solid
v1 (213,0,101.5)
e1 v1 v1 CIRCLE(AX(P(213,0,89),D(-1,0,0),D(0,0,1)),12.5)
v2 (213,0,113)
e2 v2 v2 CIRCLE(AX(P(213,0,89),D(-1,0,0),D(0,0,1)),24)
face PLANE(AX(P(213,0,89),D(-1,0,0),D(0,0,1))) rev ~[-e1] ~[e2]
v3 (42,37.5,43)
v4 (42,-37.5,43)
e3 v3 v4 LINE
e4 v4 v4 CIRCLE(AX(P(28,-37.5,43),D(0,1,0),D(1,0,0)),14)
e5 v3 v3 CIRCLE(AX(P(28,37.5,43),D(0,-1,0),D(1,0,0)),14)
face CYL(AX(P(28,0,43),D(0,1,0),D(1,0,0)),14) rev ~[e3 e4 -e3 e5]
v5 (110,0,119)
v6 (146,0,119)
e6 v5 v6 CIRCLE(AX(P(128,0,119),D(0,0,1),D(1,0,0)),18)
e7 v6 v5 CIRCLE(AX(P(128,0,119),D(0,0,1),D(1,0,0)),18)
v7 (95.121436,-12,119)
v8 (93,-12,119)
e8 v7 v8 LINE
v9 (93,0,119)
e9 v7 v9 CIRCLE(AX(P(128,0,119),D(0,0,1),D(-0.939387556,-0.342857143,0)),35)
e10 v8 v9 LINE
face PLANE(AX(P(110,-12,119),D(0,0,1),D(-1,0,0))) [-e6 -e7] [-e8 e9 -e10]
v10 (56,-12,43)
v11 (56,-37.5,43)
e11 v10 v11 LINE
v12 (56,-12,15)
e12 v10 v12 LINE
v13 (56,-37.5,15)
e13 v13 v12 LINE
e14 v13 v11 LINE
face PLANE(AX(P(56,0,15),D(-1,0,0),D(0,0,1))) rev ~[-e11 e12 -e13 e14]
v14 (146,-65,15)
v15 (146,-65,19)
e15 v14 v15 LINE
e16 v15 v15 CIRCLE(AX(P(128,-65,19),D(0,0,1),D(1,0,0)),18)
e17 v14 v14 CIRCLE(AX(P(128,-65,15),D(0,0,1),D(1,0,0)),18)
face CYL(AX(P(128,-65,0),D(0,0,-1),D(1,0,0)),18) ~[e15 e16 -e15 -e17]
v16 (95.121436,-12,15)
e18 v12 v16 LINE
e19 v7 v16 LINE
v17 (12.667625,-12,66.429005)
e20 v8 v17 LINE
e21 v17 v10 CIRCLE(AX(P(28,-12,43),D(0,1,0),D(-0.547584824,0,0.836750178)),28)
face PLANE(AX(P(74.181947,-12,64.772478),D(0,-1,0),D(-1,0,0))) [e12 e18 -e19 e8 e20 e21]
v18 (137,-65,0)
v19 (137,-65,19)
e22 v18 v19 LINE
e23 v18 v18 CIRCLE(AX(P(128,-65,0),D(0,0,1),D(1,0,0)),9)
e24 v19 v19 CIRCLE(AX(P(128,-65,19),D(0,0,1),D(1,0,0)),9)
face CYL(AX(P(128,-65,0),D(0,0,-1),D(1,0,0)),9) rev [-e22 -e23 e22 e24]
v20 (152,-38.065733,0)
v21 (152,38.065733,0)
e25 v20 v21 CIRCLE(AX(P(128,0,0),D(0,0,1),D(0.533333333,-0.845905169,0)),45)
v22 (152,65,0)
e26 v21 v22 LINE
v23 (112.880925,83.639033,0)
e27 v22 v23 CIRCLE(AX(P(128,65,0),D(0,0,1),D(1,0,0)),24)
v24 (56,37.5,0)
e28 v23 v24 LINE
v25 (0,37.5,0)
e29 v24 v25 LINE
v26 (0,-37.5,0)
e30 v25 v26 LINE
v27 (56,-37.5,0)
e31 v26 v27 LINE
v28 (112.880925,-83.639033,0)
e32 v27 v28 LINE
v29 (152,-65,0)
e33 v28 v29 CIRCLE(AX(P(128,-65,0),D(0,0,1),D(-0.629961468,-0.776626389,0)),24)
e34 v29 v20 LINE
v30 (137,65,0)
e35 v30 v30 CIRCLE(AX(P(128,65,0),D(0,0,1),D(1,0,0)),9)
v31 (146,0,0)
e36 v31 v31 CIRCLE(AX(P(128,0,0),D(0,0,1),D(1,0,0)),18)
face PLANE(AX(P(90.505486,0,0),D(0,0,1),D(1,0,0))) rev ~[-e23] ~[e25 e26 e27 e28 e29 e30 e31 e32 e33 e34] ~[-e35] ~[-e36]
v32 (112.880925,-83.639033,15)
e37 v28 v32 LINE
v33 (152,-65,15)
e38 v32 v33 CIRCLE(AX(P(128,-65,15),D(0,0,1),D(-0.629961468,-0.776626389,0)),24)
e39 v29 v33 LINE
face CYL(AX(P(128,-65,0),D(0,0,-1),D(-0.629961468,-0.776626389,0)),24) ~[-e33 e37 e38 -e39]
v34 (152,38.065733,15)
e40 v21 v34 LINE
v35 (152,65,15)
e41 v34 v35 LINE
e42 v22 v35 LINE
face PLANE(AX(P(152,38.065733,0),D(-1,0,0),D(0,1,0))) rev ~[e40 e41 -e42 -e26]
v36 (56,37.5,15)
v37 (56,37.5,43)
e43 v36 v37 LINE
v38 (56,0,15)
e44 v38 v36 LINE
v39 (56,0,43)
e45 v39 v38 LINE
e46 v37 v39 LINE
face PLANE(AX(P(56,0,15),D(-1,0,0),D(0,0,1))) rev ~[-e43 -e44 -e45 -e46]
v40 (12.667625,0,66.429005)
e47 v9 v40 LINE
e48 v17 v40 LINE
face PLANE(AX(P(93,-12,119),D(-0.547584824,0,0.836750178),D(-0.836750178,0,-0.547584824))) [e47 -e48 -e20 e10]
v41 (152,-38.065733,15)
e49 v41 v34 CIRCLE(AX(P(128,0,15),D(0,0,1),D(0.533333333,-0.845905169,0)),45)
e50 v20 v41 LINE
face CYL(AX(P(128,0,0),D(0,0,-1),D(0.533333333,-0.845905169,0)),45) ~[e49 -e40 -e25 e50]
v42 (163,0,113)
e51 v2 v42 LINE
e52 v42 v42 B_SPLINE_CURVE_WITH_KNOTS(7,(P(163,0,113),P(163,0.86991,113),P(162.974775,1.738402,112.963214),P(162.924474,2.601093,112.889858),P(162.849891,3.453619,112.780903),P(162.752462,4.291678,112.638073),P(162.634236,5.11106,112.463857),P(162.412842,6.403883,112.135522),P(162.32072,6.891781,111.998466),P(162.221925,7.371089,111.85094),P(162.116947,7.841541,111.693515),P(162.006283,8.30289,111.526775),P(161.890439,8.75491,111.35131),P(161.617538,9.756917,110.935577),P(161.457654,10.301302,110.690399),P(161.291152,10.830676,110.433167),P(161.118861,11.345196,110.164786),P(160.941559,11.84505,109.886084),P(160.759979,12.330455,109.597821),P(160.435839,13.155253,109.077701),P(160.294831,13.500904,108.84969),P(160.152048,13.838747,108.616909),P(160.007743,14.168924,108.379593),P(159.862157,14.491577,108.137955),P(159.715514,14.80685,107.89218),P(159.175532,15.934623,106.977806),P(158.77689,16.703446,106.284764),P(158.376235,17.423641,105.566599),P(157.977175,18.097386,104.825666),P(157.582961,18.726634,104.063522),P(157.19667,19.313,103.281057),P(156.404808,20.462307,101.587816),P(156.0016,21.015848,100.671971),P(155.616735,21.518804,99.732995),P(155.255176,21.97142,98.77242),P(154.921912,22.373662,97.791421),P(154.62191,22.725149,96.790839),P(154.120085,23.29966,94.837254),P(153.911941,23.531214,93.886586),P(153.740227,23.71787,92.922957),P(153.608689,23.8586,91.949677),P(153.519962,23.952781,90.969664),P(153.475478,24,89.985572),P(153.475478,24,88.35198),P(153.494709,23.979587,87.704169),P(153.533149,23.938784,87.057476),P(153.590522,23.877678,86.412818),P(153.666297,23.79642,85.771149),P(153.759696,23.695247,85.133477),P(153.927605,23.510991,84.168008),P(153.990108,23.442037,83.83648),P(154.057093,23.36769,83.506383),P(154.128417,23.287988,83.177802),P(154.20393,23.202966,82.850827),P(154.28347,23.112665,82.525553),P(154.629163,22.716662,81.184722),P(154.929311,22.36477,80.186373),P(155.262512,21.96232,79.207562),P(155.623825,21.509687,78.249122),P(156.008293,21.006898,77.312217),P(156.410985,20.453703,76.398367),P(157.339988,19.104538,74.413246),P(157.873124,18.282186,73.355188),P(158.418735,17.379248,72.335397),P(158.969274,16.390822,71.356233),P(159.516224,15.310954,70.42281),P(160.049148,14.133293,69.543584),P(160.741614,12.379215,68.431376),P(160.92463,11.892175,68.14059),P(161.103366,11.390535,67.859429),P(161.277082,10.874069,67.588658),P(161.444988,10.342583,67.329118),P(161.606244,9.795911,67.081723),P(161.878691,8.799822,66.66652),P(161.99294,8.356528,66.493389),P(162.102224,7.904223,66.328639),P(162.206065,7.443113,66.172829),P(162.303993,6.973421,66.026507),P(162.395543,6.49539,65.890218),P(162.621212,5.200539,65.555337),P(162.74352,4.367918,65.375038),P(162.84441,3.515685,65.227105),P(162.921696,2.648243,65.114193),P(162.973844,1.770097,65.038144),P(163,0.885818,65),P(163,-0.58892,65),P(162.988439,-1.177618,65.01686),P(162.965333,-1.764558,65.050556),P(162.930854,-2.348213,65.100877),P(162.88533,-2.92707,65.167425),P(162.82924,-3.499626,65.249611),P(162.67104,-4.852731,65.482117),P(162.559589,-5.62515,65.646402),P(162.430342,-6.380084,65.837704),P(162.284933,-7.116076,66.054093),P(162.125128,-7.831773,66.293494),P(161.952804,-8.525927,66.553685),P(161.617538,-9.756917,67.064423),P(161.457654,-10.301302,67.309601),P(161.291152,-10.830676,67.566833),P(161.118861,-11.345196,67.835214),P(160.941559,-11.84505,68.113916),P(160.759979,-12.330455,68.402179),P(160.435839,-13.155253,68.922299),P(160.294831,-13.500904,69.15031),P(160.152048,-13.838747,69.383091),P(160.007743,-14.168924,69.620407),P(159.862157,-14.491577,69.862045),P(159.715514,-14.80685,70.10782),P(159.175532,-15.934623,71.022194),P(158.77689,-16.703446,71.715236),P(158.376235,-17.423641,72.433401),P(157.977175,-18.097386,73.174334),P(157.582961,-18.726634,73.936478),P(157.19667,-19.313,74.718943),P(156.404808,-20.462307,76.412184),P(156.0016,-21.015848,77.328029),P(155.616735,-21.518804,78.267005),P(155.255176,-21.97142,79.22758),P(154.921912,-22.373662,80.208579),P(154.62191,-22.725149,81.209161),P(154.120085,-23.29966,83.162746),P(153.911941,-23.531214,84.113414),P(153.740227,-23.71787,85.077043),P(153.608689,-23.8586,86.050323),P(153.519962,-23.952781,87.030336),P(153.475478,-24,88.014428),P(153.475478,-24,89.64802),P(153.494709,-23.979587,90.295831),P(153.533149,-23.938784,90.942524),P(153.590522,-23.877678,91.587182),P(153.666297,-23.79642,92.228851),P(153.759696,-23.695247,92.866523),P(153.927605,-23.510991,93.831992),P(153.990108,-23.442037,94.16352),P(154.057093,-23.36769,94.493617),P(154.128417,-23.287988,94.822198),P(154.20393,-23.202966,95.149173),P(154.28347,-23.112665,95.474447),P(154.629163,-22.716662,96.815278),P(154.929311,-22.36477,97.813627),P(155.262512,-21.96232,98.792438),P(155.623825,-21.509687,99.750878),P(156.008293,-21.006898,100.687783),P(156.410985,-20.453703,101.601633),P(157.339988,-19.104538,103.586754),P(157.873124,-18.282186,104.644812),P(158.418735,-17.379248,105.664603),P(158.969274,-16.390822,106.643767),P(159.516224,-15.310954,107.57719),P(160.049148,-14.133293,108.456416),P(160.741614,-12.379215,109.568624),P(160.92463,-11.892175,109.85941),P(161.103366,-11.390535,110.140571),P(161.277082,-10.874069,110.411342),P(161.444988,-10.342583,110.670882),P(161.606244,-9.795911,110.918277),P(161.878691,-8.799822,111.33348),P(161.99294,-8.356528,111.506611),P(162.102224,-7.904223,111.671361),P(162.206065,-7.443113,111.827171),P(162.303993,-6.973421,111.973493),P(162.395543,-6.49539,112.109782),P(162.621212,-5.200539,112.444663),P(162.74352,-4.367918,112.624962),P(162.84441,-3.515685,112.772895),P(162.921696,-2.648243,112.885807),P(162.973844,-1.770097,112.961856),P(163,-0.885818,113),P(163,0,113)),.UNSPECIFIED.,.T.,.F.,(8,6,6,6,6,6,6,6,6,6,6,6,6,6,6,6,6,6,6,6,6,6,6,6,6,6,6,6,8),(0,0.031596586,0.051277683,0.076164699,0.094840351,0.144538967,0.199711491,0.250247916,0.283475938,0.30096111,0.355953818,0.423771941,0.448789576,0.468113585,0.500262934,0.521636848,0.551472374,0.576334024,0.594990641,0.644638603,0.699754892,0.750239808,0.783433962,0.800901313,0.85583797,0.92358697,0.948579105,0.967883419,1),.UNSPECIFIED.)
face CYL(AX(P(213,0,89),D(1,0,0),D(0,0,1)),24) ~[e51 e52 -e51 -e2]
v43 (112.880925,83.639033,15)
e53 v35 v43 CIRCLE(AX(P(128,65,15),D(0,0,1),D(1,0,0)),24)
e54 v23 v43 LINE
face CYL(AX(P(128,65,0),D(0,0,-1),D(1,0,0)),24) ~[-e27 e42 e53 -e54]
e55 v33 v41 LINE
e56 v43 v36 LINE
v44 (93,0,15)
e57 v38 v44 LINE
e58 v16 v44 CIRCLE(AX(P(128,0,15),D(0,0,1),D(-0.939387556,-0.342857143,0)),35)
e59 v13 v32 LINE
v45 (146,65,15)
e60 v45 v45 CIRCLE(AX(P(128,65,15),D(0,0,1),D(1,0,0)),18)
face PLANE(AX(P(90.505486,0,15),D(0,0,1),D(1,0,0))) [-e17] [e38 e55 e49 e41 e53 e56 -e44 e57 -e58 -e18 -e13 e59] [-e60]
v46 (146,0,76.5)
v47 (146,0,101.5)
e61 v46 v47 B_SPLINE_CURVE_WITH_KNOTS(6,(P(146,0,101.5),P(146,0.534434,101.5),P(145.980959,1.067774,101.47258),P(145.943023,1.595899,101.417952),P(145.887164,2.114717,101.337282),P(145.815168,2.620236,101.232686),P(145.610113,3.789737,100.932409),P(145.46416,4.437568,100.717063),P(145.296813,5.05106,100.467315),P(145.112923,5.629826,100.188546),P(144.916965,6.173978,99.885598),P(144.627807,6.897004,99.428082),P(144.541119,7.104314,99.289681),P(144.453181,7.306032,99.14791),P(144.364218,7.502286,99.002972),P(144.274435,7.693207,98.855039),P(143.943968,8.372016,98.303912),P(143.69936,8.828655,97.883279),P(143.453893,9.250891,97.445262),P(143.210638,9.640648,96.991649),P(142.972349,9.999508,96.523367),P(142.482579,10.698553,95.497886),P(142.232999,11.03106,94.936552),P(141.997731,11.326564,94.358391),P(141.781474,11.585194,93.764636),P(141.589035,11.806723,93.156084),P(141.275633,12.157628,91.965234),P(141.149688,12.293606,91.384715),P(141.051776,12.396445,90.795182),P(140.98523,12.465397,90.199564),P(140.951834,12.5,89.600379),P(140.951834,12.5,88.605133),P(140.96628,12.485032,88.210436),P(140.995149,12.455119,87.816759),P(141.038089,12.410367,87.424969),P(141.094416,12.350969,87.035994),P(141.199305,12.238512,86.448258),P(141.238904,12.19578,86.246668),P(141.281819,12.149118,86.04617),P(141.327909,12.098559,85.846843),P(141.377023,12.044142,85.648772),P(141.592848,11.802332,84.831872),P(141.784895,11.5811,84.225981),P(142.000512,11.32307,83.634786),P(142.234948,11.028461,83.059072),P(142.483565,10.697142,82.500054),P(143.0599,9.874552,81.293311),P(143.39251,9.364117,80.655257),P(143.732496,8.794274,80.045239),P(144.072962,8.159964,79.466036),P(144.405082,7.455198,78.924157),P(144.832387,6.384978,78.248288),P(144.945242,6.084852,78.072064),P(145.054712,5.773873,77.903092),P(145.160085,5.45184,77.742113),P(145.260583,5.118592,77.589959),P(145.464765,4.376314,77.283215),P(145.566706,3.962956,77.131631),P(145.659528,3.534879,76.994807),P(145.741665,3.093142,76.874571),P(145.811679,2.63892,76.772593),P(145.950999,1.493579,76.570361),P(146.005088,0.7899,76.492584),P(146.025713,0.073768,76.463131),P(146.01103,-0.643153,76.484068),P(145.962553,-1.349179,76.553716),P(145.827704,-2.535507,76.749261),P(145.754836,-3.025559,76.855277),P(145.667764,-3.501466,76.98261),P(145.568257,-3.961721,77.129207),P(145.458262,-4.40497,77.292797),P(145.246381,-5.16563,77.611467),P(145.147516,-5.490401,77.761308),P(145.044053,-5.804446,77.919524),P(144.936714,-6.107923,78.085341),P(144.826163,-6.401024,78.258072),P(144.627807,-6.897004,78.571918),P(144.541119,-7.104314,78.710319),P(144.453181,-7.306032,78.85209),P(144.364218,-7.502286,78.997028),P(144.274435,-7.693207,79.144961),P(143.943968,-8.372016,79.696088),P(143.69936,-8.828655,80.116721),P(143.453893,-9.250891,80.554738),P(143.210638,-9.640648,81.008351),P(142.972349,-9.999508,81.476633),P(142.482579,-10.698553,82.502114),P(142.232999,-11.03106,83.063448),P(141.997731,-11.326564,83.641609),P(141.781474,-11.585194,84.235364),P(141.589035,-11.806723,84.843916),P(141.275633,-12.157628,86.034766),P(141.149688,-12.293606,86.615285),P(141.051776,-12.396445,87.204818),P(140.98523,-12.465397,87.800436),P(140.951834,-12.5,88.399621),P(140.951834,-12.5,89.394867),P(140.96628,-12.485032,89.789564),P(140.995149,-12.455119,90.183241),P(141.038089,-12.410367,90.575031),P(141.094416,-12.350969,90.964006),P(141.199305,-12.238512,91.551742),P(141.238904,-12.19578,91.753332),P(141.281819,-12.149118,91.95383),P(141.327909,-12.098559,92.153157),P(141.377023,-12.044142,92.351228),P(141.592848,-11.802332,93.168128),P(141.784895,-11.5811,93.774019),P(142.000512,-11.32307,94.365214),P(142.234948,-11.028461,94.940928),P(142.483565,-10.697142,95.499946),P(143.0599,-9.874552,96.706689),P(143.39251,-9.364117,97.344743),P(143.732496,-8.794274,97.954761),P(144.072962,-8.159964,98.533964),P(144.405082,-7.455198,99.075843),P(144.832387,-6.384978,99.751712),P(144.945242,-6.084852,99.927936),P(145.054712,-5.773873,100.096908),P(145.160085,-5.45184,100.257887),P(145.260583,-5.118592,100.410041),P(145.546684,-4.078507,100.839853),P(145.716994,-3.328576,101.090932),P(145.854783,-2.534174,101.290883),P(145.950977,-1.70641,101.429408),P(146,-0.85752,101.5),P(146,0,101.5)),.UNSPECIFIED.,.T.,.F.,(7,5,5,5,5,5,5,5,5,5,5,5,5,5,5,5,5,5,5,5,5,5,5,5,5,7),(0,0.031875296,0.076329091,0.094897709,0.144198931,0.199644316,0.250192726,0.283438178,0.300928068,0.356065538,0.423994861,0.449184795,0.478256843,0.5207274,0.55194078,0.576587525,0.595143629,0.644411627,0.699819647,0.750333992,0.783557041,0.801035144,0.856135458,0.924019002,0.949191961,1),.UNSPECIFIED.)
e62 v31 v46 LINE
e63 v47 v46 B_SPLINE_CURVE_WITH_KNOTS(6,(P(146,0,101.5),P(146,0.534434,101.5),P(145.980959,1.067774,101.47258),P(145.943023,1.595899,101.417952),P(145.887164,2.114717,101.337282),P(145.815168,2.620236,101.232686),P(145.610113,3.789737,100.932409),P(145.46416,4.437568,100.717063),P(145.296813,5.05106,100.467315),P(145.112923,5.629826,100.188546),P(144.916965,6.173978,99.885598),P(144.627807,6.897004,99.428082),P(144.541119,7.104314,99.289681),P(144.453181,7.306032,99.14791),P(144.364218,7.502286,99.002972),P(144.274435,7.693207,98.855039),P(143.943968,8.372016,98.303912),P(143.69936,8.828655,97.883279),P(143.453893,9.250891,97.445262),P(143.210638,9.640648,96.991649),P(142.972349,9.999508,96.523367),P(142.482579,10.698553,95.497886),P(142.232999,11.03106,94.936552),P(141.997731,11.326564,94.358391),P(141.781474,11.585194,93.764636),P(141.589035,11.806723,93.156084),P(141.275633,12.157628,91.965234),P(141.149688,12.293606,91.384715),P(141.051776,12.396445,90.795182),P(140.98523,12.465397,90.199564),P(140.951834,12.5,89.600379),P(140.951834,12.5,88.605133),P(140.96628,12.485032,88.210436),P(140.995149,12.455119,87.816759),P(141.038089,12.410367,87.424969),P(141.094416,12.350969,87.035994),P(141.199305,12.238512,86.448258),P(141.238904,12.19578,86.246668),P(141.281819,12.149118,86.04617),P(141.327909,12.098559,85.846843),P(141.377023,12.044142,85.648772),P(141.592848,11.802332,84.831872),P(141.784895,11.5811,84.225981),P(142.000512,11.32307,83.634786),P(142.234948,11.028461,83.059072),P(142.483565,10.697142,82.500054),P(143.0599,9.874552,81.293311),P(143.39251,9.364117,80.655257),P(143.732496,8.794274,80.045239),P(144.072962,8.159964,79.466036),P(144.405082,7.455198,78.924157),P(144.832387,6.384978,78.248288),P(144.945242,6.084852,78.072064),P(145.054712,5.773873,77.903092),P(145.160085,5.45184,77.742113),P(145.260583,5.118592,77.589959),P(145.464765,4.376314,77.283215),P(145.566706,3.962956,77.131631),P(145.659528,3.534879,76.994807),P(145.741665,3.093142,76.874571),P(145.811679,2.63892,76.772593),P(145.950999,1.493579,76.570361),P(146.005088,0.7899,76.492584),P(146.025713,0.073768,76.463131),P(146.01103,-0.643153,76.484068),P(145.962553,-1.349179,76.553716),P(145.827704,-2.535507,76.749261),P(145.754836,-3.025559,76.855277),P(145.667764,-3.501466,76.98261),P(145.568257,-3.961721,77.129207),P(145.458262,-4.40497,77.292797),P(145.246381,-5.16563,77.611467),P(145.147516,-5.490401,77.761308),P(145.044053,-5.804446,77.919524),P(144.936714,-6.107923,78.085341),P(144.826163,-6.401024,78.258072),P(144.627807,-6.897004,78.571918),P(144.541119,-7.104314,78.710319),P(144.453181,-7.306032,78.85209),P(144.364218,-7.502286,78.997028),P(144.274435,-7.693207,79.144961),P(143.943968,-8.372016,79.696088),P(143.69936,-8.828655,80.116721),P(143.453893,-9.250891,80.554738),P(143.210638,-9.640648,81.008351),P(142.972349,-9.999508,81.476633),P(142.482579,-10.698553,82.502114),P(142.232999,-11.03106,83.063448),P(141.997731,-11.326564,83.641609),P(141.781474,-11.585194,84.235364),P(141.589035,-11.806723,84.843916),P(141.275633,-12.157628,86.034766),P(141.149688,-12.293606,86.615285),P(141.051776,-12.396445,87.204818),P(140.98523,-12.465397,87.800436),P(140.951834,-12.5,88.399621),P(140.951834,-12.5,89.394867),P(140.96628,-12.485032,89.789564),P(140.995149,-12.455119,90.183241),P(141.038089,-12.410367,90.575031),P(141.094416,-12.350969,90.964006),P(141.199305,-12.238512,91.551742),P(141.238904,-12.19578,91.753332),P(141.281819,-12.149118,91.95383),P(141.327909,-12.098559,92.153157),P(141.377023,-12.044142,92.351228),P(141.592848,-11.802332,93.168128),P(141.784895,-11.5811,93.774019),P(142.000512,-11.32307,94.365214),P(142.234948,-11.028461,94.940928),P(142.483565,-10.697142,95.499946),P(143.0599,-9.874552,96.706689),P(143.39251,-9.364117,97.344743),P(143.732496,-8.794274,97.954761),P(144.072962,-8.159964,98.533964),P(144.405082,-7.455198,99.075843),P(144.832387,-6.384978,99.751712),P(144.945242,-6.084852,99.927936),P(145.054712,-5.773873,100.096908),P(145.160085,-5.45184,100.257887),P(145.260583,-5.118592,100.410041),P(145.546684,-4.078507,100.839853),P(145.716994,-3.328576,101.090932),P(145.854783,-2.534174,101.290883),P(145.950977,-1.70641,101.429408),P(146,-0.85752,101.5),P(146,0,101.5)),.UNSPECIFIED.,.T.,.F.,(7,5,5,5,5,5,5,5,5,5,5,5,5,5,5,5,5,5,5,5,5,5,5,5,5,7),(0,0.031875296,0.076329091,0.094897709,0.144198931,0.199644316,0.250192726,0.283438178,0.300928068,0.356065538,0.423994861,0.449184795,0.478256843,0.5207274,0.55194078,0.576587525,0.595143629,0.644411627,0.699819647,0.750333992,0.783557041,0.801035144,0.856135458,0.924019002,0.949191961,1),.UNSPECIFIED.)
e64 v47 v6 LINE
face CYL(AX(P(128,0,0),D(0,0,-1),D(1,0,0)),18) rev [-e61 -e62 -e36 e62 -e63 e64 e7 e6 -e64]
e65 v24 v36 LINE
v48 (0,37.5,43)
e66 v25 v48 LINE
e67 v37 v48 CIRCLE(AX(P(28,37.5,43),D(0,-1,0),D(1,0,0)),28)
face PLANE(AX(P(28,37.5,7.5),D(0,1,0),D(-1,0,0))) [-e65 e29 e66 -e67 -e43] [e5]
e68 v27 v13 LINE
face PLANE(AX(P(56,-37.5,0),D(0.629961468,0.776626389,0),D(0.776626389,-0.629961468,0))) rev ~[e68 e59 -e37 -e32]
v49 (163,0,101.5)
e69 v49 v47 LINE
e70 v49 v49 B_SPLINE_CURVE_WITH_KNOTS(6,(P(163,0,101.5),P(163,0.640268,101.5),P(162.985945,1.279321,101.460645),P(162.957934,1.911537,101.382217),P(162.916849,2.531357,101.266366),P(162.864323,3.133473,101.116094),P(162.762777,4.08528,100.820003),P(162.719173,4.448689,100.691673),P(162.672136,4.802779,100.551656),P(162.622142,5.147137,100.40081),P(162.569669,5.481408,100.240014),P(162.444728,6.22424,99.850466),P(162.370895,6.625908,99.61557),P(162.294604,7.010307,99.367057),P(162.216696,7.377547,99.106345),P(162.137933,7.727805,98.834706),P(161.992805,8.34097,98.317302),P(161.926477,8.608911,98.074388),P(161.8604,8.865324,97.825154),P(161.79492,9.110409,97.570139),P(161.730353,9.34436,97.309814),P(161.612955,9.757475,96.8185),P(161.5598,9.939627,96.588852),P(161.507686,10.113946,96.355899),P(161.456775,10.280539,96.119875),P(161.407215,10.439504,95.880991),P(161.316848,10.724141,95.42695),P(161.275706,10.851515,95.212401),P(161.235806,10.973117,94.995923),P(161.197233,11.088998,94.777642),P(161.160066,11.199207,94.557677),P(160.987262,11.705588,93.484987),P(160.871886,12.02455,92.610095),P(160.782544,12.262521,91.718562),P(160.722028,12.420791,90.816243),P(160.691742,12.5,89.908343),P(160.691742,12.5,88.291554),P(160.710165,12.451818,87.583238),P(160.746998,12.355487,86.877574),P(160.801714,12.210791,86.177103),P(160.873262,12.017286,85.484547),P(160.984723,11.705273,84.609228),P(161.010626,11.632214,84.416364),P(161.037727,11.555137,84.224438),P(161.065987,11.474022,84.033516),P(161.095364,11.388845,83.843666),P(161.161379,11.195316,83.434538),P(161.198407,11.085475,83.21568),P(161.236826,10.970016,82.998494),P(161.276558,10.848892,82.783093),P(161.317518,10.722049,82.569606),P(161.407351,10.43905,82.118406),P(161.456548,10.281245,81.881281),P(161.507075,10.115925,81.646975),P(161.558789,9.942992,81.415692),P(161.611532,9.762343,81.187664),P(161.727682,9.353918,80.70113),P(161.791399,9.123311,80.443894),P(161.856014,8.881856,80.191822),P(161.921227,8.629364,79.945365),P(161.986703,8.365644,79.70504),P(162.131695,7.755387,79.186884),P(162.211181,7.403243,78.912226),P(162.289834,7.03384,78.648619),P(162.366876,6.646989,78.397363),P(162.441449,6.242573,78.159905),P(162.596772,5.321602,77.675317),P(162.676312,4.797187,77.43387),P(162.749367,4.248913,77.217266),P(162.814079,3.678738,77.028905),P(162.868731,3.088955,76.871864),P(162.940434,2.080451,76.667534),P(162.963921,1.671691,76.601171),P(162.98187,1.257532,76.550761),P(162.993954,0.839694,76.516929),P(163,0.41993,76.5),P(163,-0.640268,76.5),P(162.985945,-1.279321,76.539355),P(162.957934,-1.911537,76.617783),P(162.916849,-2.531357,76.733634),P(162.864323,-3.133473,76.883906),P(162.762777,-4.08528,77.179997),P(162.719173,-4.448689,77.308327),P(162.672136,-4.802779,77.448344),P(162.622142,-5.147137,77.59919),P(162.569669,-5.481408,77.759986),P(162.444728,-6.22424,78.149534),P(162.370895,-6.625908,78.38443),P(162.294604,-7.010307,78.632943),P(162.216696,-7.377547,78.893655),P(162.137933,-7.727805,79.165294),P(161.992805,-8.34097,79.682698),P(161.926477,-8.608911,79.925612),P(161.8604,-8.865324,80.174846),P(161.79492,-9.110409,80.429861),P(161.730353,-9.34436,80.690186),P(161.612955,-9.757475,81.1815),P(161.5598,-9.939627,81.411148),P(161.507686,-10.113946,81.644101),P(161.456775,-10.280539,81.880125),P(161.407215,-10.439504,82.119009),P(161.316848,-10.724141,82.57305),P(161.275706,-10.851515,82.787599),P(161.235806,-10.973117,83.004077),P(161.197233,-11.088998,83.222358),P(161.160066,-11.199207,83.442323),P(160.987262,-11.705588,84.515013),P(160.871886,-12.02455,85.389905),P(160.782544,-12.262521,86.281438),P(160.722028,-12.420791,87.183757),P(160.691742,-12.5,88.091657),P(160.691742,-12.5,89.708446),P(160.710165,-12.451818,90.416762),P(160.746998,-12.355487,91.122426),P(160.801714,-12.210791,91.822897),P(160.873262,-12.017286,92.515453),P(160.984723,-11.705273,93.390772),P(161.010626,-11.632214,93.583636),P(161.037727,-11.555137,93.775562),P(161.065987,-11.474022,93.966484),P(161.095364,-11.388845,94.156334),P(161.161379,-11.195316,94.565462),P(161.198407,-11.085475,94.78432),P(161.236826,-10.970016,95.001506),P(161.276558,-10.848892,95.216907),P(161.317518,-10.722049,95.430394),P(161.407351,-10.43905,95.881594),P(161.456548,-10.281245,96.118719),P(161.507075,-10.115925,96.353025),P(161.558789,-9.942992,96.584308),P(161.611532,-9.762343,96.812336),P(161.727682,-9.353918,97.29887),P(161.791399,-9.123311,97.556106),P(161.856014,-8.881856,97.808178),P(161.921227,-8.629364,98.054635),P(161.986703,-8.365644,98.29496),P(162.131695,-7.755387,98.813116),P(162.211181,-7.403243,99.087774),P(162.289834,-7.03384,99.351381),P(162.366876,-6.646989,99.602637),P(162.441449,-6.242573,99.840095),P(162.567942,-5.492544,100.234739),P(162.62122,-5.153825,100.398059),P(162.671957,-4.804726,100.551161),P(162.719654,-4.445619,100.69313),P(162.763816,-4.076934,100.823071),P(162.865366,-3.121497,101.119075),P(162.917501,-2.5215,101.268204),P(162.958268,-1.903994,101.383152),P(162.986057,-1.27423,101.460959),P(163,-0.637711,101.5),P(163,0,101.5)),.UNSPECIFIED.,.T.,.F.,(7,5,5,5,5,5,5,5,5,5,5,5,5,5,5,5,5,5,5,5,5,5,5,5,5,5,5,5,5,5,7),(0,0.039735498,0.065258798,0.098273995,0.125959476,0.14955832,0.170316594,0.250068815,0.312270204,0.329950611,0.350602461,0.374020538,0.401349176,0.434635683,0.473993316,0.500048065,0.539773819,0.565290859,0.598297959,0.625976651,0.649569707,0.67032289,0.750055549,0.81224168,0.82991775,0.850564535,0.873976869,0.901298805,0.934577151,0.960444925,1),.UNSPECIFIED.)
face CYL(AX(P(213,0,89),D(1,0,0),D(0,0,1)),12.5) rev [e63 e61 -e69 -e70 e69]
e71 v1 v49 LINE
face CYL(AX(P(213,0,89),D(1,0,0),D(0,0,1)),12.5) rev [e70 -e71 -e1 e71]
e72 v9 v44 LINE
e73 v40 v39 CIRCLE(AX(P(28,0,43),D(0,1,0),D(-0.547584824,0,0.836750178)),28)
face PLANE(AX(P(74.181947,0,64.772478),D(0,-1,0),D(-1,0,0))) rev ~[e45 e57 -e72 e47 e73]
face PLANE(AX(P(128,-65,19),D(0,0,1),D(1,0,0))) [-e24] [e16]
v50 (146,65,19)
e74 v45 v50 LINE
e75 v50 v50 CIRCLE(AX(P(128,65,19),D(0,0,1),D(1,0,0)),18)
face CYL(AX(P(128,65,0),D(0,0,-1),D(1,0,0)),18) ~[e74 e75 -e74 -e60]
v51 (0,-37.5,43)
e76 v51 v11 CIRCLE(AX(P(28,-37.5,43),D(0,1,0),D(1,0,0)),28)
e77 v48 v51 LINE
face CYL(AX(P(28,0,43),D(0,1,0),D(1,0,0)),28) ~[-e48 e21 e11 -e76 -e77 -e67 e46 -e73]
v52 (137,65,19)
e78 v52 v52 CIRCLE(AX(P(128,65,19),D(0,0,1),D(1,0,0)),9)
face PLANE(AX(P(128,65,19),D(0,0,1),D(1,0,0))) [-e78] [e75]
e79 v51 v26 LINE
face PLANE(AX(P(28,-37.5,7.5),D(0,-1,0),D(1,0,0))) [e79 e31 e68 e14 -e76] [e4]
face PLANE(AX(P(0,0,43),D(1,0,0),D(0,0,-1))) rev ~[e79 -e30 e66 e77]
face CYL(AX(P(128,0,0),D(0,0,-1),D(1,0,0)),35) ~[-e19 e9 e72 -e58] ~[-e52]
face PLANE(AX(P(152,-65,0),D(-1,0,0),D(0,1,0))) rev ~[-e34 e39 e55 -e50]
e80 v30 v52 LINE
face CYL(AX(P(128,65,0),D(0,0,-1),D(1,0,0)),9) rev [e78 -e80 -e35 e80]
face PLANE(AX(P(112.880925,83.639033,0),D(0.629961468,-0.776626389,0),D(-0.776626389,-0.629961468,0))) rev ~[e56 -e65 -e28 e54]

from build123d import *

# Parameters (mm, degrees)
SKETCH1_R                       = 35
SKETCH1_R_2                     = 18
BOSS_EXTRUDE1_DEPTH             = 15
SKETCH1_4_R                     = 18
SKETCH1_4_R_2                   = 9
BOSS_EXTRUDE2_DEPTH             = 19
SKETCH1_5_R                     = 35
SKETCH1_5_R_2                   = 18
BOSS_EXTRUDE3_DEPTH             = 119
BOSS_EXTRUDE4_REACH             = 230.059
SKETCH2_R                       = 14
BOSS_EXTRUDE4_DIRECTION_2_REACH = 230.059
BOSS_EXTRUDE5_START             = -12
BOSS_EXTRUDE5_DEPTH             = 12
BOSS_EXTRUDE7_REACH             = 443.059
BOSS_EXTRUDE7_END_RADIUS        = 35
BOSS_EXTRUDE7_START             = -213
SKETCH4_R                       = 24
SKETCH4_R_2                     = 12.5
CUT_EXTRUDE1_REACH              = 474.713
CUT_EXTRUDE1_END_RADIUS         = 18
CUT_EXTRUDE1_START              = -213
SKETCH4_3_R                     = 12.5


with BuildPart() as part:
    # Sketch1 → Boss-Extrude1 (new body)
    with BuildSketch(Plane.XY):
        with BuildLine():
            Line((0, -37.5), (56, -37.5))
            Line((56, -37.5), (112.880924764, -83.639033344))
            ThreePointArc((112.880924764, -83.639033344), (138.323327815, -86.666308011), (152, -65))
            Line((152, -65), (152, -38.065732621))
            ThreePointArc((152, -38.065732621), (173, 0), (152, 38.065732621))
            Line((152, 38.065732621), (152, 65))
            ThreePointArc((152, 65), (138.323327815, 86.666308011), (112.880924764, 83.639033344))
            Line((112.880924764, 83.639033344), (56, 37.5))
            Line((56, 37.5), (0, 37.5))
            Line((0, 37.5), (0, -37.5))
        make_face()
        with Locations((128, 0)):
            Circle(SKETCH1_R, mode=Mode.SUBTRACT)
        with Locations((128, -65)):
            Circle(SKETCH1_R_2, mode=Mode.SUBTRACT)
        with Locations((128, 65)):
            Circle(SKETCH1_R_2, mode=Mode.SUBTRACT)
    extrude(amount=BOSS_EXTRUDE1_DEPTH)

    # Sketch1<4> → Boss-Extrude2 (add)
    # profile 1 of 2: a face of its own
    with BuildSketch(Plane.XY):
        with Locations((128, 65)):
            Circle(SKETCH1_4_R)
        with Locations((128, 65)):
            Circle(SKETCH1_4_R_2, mode=Mode.SUBTRACT)
    # profile 2 of 2: a face of its own
    with BuildSketch(Plane.XY):
        with Locations((128, -65)):
            Circle(SKETCH1_4_R)
        with Locations((128, -65)):
            Circle(SKETCH1_4_R_2, mode=Mode.SUBTRACT)
    extrude(amount=BOSS_EXTRUDE2_DEPTH)

    # Sketch1<5> → Boss-Extrude3 (add)
    with BuildSketch(Plane.XY):
        with Locations((128, 0)):
            Circle(SKETCH1_5_R)
        with Locations((128, 0)):
            Circle(SKETCH1_5_R_2, mode=Mode.SUBTRACT)
    extrude(amount=BOSS_EXTRUDE3_DEPTH)

    # Boss-Extrude4: up to this face of the body (flat: up to its plane)
    boss_extrude4_end = Plane(part.part.faces().sort_by_distance((28, 37.5, 7.5))[0])
    # Sketch2 → Boss-Extrude4 (add, up to the picked face)
    with BuildSketch(Plane(origin=(0, 0, 0), x_dir=(1, 0, 0), z_dir=(0, 1, 0)), mode=Mode.PRIVATE) as boss_extrude4_sk1:
        with BuildLine():
            Line((56, -15), (56, -43))
            ThreePointArc((56, -43), (28, -71), (0, -43))
            Line((0, -43), (0, -15))
            Line((0, -15), (56, -15))
        make_face()
        with Locations((28, -43)):
            Circle(SKETCH2_R, mode=Mode.SUBTRACT)
    boss_extrude4_tool1 = split(extrude(boss_extrude4_sk1.sketch, amount=BOSS_EXTRUDE4_REACH, mode=Mode.PRIVATE), bisect_by=boss_extrude4_end, keep=Keep.BOTH, mode=Mode.PRIVATE)
    add(boss_extrude4_tool1.solids().sort_by(Axis((0.79196, 0, 29), (0, 1, 0)))[0])

    # Boss-Extrude4 direction 2: up to this face of the body (flat: up to its plane)
    boss_extrude4_direction_2_end = Plane(part.part.faces().sort_by_distance((28, -37.5, 7.5))[0])
    # Sketch2 → Boss-Extrude4 direction 2 (add, up to the picked face)
    with BuildSketch(Plane(origin=(0, 0, 0), x_dir=(1, 0, 0), z_dir=(0, 1, 0)), mode=Mode.PRIVATE) as boss_extrude4_direction_2_sk1:
        with BuildLine():
            Line((56, -15), (56, -43))
            ThreePointArc((56, -43), (28, -71), (0, -43))
            Line((0, -43), (0, -15))
            Line((0, -15), (56, -15))
        make_face()
        with Locations((28, -43)):
            Circle(SKETCH2_R, mode=Mode.SUBTRACT)
    boss_extrude4_direction_2_tool1 = split(extrude(boss_extrude4_direction_2_sk1.sketch, amount=-BOSS_EXTRUDE4_DIRECTION_2_REACH, mode=Mode.PRIVATE), bisect_by=boss_extrude4_direction_2_end, keep=Keep.BOTH, mode=Mode.PRIVATE)
    add(boss_extrude4_direction_2_tool1.solids().sort_by(Axis((0.79196, 0, 29), (0, -1, 0)))[0])

    # Sketch3 → Boss-Extrude5 (add)
    with BuildSketch(Plane(origin=(0, 0, 0), x_dir=(1, 0, 0), z_dir=(0, 1, 0)).offset(BOSS_EXTRUDE5_START)):
        with BuildLine():
            Line((93, -119), (12.667624934, -66.42900499))
            ThreePointArc((12.667624934, -66.42900499), (41.317159948, -67.630331929), (56, -43))
            Line((56, -43), (56, -15))
            Line((56, -15), (93, -15))
            Line((93, -15), (110, -15))
            Line((110, -15), (110, -119))
            Line((110, -119), (93, -119))
        make_face()
    extrude(amount=BOSS_EXTRUDE5_DEPTH)

    # Boss-Extrude7: up to this cylinder (the profile starts outside it)
    boss_extrude7_end = Plane(origin=(128, 0, 65.678823), z_dir=(0, 0, -1)) * Cylinder(BOSS_EXTRUDE7_END_RADIUS, 957.118, mode=Mode.PRIVATE)
    # Sketch4 → Boss-Extrude7 (add, up to the surface)
    with BuildSketch(Plane.ZY.offset(BOSS_EXTRUDE7_START), mode=Mode.PRIVATE) as boss_extrude7_sk1:
        with Locations((89, 0)):
            Circle(SKETCH4_R)
        with Locations((89, 0)):
            Circle(SKETCH4_R_2, mode=Mode.SUBTRACT)
    boss_extrude7_tool1 = extrude(boss_extrude7_sk1.sketch, amount=BOSS_EXTRUDE7_REACH, mode=Mode.PRIVATE) - boss_extrude7_end
    add(boss_extrude7_tool1.solids().sort_by_distance((213, 0, 65.678823))[0])

    # Cut-Extrude1: up to this cylinder (the profile starts outside it)
    cut_extrude1_end = Plane(origin=(128, 0, 89), z_dir=(0, 0, -1)) * Cylinder(CUT_EXTRUDE1_END_RADIUS, 986.426, mode=Mode.PRIVATE)
    # Sketch4<3> → Cut-Extrude1 (cut, up to the surface)
    with BuildSketch(Plane.ZY.offset(CUT_EXTRUDE1_START), mode=Mode.PRIVATE) as cut_extrude1_sk1:
        with Locations((89, 0)):
            Circle(SKETCH4_3_R)
    cut_extrude1_tool1 = extrude(cut_extrude1_sk1.sketch, amount=CUT_EXTRUDE1_REACH, mode=Mode.PRIVATE) - cut_extrude1_end
    add(cut_extrude1_tool1.solids().sort_by_distance((213, 0, 89))[0], mode=Mode.SUBTRACT)


solid = part.part
